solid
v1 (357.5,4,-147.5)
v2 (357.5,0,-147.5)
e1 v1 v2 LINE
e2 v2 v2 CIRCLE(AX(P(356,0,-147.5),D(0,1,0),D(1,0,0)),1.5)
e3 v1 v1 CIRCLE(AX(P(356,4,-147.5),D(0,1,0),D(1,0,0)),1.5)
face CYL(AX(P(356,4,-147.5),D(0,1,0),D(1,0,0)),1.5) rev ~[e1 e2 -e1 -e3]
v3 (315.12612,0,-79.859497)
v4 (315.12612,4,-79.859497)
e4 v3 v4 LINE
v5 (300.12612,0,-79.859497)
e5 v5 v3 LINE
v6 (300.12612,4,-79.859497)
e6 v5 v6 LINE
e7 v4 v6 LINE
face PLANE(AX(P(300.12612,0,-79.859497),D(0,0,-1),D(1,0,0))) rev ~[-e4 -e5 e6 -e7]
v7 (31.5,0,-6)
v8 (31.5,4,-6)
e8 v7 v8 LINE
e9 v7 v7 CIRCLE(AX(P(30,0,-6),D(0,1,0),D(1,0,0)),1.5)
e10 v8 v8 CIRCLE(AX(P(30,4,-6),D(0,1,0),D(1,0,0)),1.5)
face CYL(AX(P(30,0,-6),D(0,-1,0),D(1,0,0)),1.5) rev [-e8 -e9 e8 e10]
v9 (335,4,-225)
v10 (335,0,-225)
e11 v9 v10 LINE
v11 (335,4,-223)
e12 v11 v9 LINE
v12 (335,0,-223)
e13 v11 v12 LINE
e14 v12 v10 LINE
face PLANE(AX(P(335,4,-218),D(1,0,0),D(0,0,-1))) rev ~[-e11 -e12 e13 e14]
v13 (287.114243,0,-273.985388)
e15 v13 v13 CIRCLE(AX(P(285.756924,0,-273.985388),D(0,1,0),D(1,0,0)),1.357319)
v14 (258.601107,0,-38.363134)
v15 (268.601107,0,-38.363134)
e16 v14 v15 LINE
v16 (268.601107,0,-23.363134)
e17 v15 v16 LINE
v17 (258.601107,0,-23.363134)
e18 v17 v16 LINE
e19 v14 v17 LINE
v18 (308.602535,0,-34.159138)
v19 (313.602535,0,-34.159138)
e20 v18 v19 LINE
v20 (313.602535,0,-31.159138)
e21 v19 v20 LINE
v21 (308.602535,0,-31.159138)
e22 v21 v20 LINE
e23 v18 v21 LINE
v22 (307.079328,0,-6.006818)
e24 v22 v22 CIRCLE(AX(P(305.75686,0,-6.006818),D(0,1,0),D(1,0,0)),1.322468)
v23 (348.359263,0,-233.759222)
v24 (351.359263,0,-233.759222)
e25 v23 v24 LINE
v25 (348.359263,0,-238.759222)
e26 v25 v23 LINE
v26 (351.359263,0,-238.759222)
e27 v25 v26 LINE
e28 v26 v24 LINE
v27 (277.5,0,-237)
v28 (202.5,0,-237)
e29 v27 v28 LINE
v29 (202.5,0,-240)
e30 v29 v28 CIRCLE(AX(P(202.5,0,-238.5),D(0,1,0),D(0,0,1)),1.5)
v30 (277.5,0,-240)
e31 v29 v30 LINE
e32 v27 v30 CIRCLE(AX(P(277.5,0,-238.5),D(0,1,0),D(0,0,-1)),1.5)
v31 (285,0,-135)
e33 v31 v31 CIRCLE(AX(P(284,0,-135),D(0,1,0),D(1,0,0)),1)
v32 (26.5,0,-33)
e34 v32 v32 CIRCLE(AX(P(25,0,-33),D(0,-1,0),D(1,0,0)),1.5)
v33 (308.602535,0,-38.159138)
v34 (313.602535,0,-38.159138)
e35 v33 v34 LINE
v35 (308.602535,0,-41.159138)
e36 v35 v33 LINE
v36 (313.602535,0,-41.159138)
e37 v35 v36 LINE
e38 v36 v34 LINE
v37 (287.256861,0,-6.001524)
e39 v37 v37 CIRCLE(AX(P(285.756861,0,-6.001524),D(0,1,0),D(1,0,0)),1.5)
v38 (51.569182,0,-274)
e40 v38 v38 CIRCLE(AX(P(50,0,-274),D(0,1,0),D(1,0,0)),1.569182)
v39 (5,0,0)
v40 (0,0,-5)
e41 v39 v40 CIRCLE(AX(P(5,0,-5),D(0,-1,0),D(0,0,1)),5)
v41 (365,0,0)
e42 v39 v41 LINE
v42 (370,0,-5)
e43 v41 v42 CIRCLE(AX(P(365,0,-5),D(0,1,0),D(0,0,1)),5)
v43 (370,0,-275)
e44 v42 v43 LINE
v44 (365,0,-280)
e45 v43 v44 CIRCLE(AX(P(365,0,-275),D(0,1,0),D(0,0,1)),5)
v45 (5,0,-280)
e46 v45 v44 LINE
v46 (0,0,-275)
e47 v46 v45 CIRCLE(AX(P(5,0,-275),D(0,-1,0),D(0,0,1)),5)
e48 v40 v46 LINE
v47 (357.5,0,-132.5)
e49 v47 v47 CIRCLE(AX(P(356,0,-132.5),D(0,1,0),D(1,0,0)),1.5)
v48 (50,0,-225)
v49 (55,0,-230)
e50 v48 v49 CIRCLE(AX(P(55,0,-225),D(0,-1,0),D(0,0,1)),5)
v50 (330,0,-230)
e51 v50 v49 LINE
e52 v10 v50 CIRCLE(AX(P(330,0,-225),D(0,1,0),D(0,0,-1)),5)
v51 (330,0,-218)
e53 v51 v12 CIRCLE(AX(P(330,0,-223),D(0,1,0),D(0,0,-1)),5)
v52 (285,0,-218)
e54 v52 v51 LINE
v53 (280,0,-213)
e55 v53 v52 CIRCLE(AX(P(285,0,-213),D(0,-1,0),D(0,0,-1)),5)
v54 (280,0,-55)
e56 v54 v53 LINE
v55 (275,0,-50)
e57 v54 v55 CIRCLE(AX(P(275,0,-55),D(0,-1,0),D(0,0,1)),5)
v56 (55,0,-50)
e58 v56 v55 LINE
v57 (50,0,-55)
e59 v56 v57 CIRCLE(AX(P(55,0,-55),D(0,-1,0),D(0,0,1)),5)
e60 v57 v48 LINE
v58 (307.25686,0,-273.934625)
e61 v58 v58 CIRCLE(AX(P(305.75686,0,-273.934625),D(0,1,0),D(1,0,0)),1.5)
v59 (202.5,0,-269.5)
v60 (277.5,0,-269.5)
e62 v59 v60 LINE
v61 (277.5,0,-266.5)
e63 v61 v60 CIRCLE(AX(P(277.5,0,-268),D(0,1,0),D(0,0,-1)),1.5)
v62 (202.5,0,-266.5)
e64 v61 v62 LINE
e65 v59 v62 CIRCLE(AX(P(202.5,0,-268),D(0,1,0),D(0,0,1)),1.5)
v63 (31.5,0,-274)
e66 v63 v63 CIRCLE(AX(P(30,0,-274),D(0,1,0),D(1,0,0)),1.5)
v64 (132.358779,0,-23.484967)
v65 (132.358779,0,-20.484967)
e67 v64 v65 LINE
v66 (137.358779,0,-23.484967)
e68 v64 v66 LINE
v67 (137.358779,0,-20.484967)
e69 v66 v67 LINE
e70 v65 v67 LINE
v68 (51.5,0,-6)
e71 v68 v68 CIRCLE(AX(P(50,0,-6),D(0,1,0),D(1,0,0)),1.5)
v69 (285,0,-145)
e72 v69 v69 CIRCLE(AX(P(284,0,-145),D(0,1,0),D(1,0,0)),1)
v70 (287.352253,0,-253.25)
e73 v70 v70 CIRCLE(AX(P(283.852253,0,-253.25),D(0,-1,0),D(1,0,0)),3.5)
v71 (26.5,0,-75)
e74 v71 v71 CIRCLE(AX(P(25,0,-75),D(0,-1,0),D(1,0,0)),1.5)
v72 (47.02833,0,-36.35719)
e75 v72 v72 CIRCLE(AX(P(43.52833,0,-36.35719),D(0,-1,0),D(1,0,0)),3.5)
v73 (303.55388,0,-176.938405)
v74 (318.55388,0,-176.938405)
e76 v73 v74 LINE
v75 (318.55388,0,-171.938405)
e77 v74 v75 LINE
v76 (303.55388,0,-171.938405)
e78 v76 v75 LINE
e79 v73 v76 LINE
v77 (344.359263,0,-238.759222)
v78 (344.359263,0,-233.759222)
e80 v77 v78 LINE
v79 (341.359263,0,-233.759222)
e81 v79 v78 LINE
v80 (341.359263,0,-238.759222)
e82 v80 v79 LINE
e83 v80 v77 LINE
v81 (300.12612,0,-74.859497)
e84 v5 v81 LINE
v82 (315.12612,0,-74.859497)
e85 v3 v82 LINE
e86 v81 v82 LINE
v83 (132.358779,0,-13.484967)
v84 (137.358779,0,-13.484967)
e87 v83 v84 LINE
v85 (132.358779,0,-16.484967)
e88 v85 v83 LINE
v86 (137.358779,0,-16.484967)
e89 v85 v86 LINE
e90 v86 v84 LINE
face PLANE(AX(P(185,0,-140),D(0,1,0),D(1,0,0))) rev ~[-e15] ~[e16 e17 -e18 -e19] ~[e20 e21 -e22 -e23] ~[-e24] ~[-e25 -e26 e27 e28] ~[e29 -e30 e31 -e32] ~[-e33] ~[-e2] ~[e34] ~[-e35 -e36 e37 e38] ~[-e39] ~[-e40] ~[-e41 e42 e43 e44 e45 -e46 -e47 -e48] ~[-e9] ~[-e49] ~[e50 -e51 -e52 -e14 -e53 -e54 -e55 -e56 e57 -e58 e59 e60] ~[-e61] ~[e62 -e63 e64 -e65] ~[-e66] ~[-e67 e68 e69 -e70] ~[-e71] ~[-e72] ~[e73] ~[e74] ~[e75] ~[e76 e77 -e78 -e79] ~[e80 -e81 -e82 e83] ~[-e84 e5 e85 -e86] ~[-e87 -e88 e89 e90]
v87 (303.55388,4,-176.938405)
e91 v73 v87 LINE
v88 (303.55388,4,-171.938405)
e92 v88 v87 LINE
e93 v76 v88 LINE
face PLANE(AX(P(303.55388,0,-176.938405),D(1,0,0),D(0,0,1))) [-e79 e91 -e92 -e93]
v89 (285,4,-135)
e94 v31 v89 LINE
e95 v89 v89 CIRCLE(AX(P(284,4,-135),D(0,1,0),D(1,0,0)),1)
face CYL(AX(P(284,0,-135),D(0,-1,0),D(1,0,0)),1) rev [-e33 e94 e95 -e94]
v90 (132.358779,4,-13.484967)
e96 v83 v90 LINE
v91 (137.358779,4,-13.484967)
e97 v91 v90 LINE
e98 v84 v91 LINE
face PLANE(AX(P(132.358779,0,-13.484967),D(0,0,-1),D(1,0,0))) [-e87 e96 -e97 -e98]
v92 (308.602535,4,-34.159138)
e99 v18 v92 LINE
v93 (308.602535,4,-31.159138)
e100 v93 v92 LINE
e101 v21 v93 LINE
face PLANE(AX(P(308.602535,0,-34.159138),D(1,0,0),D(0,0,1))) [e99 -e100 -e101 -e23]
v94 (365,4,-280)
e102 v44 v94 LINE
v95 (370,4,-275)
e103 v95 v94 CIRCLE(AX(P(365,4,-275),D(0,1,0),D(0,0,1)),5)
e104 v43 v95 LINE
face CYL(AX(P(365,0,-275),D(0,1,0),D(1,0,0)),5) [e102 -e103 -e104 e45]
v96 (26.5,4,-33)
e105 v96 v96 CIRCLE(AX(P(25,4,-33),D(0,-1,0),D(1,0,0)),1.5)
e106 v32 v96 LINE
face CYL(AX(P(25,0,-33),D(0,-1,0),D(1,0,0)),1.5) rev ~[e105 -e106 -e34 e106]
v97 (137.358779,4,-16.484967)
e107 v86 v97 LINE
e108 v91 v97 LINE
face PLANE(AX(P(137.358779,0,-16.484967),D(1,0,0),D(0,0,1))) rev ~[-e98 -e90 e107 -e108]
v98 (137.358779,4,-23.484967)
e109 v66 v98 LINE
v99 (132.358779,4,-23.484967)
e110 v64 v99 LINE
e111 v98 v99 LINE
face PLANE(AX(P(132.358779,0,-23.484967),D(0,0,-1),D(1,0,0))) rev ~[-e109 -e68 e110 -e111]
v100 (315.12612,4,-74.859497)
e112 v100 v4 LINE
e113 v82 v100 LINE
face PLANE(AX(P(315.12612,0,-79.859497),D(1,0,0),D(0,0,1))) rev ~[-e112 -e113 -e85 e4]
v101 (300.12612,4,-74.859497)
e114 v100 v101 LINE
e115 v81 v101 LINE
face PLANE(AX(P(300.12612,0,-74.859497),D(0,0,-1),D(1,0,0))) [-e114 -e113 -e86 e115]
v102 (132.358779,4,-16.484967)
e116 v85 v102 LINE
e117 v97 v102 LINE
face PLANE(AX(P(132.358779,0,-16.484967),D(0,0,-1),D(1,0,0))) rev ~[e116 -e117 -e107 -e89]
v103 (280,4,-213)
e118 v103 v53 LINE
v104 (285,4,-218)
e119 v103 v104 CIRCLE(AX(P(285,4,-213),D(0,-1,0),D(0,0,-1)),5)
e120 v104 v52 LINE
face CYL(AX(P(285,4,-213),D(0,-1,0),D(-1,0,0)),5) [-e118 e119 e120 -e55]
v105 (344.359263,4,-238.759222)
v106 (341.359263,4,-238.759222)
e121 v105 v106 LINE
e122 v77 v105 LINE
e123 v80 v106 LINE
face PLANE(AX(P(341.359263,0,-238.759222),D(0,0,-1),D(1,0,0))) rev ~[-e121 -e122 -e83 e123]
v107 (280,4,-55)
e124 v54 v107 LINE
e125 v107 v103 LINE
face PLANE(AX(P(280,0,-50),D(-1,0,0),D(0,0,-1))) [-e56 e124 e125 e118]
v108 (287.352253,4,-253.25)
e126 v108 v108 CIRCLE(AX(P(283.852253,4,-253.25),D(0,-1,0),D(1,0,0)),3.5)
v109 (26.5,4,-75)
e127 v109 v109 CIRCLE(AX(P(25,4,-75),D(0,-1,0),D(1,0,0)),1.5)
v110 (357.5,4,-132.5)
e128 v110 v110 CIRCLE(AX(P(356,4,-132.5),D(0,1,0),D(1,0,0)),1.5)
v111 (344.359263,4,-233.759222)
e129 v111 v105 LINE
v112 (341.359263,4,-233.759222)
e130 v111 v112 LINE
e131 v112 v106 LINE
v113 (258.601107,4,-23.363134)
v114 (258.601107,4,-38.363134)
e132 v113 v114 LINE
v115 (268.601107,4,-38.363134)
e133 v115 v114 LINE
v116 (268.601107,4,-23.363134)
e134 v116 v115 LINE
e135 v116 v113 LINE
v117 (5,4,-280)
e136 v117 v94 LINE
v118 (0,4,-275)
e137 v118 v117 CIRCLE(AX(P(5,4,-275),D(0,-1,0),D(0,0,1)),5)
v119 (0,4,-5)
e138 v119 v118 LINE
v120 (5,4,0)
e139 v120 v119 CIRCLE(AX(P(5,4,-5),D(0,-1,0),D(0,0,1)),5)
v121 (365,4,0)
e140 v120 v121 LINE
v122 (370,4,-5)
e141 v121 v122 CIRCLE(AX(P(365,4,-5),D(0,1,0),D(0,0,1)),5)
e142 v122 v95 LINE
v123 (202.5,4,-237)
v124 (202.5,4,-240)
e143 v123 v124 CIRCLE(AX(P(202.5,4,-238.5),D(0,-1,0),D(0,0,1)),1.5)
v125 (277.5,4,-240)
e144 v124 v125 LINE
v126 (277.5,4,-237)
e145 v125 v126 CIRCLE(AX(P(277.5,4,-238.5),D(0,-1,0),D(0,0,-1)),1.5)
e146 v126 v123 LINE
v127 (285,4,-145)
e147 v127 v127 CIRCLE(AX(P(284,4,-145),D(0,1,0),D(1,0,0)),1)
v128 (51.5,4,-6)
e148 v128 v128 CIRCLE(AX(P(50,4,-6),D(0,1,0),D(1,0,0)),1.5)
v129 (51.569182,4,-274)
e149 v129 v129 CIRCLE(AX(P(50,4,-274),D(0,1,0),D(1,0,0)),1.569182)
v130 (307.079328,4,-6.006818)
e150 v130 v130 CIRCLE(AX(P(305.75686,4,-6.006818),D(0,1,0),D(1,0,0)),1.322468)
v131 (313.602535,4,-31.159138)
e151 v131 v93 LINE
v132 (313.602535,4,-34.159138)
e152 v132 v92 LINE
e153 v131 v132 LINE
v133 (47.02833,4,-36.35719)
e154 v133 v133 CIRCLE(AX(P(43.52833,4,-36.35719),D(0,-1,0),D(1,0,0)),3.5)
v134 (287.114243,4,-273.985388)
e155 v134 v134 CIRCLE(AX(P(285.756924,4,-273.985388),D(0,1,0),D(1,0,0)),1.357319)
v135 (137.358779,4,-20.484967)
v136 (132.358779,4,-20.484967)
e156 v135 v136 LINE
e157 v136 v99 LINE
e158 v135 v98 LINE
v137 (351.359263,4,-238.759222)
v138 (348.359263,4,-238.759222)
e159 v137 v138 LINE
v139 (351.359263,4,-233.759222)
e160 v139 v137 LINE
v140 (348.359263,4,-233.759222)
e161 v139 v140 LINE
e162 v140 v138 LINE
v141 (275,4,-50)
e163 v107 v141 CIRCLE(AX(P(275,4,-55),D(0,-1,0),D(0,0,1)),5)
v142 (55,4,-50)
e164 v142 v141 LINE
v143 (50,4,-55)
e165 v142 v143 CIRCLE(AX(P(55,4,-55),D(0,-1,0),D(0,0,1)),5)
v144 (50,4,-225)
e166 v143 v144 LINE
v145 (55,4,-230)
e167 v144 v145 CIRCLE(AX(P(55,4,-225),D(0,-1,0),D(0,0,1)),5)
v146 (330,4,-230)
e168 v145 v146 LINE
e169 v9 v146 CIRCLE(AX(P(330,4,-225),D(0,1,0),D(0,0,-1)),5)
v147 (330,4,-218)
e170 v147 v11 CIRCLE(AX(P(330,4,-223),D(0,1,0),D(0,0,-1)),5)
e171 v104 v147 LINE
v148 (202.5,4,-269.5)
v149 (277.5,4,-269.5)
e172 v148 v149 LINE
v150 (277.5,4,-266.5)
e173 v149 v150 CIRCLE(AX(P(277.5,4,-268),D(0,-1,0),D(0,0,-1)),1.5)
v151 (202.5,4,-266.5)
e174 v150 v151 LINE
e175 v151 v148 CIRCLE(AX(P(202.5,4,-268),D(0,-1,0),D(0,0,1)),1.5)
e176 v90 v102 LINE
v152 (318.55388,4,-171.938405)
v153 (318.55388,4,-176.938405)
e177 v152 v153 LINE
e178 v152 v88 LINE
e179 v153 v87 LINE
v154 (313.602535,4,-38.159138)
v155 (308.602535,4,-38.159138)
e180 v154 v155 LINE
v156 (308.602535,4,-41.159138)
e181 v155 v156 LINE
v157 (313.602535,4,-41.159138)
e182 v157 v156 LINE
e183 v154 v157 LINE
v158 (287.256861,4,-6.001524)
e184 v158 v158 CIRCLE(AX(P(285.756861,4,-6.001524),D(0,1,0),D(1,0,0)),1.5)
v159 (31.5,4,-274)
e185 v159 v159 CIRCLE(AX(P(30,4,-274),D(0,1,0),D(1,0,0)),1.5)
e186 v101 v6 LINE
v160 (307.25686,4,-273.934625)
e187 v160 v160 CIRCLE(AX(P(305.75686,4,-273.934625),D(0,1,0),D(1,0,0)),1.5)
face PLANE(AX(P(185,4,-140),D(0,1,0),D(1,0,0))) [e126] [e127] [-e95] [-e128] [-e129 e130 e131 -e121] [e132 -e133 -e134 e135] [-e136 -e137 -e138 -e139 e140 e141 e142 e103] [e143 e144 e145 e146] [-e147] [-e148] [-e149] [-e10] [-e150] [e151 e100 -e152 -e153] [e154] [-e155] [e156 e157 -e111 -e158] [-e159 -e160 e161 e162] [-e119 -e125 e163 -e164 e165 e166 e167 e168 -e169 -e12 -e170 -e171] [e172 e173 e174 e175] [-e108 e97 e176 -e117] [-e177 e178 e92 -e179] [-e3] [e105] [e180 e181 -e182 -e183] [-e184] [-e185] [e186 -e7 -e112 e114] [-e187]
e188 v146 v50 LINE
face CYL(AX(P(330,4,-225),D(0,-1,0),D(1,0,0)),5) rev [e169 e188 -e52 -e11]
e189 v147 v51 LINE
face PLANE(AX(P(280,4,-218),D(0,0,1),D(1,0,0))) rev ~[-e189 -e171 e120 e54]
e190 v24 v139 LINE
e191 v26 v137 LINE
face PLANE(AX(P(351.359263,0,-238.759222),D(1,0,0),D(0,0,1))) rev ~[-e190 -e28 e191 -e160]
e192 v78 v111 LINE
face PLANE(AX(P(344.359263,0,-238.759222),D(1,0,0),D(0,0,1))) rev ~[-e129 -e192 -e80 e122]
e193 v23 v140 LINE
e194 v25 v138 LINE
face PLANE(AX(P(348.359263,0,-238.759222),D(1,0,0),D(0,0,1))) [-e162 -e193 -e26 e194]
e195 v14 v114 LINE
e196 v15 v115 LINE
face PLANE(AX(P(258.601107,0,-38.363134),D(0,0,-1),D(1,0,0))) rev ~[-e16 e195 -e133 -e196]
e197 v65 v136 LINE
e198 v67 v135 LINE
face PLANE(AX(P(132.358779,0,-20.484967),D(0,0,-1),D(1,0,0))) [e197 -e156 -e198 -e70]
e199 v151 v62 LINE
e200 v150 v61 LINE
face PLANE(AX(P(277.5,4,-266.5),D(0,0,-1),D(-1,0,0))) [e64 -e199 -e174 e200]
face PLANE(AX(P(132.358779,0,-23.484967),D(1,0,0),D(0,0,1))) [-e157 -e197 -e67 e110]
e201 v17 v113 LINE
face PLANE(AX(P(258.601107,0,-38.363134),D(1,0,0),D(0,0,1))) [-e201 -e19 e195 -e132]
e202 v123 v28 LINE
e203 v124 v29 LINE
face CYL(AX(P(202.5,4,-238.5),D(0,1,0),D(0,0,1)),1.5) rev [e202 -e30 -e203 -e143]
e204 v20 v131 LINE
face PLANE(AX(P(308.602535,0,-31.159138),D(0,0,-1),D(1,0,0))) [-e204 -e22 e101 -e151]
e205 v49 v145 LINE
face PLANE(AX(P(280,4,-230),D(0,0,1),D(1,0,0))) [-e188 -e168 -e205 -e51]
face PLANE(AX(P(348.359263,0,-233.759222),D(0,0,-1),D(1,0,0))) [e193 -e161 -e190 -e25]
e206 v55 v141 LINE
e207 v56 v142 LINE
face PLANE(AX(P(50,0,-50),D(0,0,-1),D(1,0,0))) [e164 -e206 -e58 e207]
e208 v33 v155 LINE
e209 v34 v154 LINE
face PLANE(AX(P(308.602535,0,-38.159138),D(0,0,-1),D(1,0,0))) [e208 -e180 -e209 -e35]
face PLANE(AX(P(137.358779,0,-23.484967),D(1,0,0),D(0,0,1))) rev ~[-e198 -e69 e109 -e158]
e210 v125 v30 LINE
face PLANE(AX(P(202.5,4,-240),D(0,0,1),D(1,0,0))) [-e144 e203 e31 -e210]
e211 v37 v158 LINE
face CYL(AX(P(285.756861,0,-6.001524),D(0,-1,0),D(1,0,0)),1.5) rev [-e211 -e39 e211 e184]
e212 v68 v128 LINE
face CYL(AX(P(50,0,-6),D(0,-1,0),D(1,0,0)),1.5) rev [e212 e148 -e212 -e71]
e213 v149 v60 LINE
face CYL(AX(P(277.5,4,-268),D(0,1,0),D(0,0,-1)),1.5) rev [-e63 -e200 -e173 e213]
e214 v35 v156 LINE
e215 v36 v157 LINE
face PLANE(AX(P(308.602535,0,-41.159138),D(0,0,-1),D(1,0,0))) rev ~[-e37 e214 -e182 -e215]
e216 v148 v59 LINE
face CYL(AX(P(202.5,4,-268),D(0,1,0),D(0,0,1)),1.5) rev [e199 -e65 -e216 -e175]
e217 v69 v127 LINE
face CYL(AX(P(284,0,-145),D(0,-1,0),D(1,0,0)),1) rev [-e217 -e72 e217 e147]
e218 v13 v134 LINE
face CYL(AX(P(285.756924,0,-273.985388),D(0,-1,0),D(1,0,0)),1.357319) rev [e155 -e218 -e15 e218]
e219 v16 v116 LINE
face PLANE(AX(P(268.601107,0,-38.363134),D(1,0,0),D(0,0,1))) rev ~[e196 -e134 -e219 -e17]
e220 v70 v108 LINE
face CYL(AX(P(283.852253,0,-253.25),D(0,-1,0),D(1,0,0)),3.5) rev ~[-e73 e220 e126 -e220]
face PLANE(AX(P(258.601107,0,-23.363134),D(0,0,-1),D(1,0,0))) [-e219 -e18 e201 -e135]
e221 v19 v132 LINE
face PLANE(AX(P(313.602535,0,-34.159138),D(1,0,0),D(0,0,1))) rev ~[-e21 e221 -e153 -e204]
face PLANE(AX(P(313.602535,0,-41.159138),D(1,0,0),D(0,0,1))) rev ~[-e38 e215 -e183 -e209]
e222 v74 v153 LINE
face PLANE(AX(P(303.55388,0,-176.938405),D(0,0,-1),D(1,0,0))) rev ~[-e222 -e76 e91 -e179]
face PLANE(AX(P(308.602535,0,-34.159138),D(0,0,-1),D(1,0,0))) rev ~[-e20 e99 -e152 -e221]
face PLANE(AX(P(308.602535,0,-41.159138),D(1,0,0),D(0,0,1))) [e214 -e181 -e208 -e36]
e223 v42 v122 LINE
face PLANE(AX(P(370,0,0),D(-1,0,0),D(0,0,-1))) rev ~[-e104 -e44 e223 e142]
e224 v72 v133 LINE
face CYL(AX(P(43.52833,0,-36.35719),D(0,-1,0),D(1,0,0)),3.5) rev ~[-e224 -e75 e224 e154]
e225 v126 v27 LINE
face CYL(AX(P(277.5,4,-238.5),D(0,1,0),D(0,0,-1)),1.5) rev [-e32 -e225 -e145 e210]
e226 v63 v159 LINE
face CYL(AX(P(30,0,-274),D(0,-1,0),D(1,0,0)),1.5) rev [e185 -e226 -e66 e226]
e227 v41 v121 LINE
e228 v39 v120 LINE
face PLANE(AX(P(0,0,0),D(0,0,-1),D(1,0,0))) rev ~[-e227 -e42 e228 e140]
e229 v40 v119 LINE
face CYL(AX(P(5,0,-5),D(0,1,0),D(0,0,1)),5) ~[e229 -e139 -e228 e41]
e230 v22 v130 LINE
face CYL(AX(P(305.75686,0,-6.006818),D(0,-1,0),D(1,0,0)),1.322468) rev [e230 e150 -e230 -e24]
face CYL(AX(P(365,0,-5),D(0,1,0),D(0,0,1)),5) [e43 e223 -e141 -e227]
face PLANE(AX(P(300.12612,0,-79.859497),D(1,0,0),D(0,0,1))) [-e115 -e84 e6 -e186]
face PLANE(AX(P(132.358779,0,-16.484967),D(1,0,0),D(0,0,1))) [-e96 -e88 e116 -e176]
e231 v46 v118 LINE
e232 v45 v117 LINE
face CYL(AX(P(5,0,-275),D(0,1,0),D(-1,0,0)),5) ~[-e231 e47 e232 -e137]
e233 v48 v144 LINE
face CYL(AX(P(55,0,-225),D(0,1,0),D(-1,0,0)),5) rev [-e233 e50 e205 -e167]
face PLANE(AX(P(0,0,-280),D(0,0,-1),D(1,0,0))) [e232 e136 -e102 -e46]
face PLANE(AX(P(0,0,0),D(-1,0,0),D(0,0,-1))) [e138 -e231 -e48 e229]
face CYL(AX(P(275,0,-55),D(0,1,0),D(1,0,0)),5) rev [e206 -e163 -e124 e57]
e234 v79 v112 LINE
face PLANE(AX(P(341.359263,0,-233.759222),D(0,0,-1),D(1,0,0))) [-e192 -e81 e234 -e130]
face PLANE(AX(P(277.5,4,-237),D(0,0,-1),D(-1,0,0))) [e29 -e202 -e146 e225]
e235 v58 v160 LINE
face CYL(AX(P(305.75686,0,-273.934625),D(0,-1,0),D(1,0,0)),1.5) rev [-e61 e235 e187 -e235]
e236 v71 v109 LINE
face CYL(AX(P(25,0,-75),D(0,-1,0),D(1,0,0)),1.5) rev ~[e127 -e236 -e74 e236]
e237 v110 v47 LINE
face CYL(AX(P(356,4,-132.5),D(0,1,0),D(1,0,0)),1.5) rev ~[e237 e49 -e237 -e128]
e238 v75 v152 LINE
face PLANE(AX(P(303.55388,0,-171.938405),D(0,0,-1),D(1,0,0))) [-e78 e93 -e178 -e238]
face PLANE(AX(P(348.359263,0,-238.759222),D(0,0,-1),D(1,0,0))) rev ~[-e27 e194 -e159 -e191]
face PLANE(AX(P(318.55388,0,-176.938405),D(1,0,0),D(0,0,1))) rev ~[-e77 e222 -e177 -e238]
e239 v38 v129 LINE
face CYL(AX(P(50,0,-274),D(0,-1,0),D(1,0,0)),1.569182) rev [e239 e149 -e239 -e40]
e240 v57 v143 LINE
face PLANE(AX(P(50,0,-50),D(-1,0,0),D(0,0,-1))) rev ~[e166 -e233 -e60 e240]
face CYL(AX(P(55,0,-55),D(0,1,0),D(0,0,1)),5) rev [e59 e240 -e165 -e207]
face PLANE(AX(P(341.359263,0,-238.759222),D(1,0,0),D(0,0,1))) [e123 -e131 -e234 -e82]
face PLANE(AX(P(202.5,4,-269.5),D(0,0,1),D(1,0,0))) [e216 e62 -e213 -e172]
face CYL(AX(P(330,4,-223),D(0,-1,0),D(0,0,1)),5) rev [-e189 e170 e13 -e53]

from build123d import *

# Parameters (mm, degrees)
SKETCH1_W           = 370
SKETCH1_H           = 280
SKETCH1_R           = 1.5
SKETCH1_R_2         = 1.569181713
SKETCH1_R_3         = 1.357318829
SKETCH1_R_4         = 1.322467774
SKETCH1_R_5         = 1
SKETCH1_W_2         = 230
SKETCH1_H_2         = 180
BOSS_EXTRUDE1_DEPTH = 4
SKETCH2_W           = 55
SKETCH2_H           = 12
CUT_EXTRUDE1_DEPTH  = 10
SKETCH3_R           = 1.5
CUT_EXTRUDE2_DEPTH  = 10
CUT_EXTRUDE3_DEPTH  = 10
FILLET3_R           = 5
FILLET4_R           = 5
FILLET5_R           = 5
FILLET6_R           = 5
FILLET7_R           = 5
FILLET8_R           = 5
FILLET9_R           = 5
SKETCH6_R           = 3.5
CUT_EXTRUDE4_DEPTH  = 10
SKETCH7_R           = 3.5
CUT_EXTRUDE5_DEPTH  = 10
SKETCH8_W           = 5
SKETCH8_H           = 3
SKETCH8_W_2         = 10
SKETCH8_H_2         = 15
SKETCH8_W_3         = 15
SKETCH8_H_3         = 5
SKETCH8_W_4         = 3
CUT_EXTRUDE6_DEPTH  = 10
SKETCH9_R           = 1.5
CUT_EXTRUDE7_DEPTH  = 10


with BuildPart() as part:
    # Sketch1 → Boss-Extrude1 (new body)
    with BuildSketch(Plane(origin=(0, 0, 0), x_dir=(1, 0, 0), z_dir=(0, 1, 0))):
        with Locations((185, 140)):
            Rectangle(SKETCH1_W, SKETCH1_H)
        with Locations((30, 274)):
            Circle(SKETCH1_R, mode=Mode.SUBTRACT)
        with Locations((50, 274)):
            Circle(SKETCH1_R_2, mode=Mode.SUBTRACT)
        with Locations((30, 6)):
            Circle(SKETCH1_R, mode=Mode.SUBTRACT)
        with Locations((50, 6)):
            Circle(SKETCH1_R, mode=Mode.SUBTRACT)
        with Locations((285.756924446, 273.985388104)):
            Circle(SKETCH1_R_3, mode=Mode.SUBTRACT)
        with Locations((305.756860025, 273.934625414)):
            Circle(SKETCH1_R, mode=Mode.SUBTRACT)
        with Locations((285.756860726, 6.001523901)):
            Circle(SKETCH1_R, mode=Mode.SUBTRACT)
        with Locations((305.756860025, 6.006818111)):
            Circle(SKETCH1_R_4, mode=Mode.SUBTRACT)
        with Locations((284, 145)):
            Circle(SKETCH1_R_5, mode=Mode.SUBTRACT)
        with Locations((284, 135)):
            Circle(SKETCH1_R_5, mode=Mode.SUBTRACT)
        with Locations((165, 140)):
            Rectangle(SKETCH1_W_2, SKETCH1_H_2, mode=Mode.SUBTRACT)
    extrude(amount=BOSS_EXTRUDE1_DEPTH)

    # Sketch2 → Cut-Extrude1 (cut)
    with BuildSketch(Plane(origin=(0, 4, 0), x_dir=(1, 0, 0), z_dir=(0, 1, 0))):
        with Locations((307.5, 224)):
            Rectangle(SKETCH2_W, SKETCH2_H)
    extrude(amount=-CUT_EXTRUDE1_DEPTH, mode=Mode.SUBTRACT)

    # Sketch3 → Cut-Extrude2 (cut)
    with BuildSketch(Plane(origin=(0, 4, 0), x_dir=(1, 0, 0), z_dir=(0, 1, 0))):
        with Locations((356, 147.5)):
            Circle(SKETCH3_R)
        with Locations((356, 132.5)):
            Circle(SKETCH3_R)
    extrude(amount=-CUT_EXTRUDE2_DEPTH, mode=Mode.SUBTRACT)

    # Sketch4 → Cut-Extrude3 (cut)
    with BuildSketch(Plane(origin=(0, 4, 0), x_dir=(1, 0, 0), z_dir=(0, 1, 0))):
        with BuildLine():
            Line((277.5, 266.5), (202.5, 266.5))
            ThreePointArc((202.5, 266.5), (201, 268), (202.5, 269.5))
            Line((202.5, 269.5), (277.5, 269.5))
            ThreePointArc((277.5, 269.5), (279, 268), (277.5, 266.5))
        make_face()
        with BuildLine():
            Line((277.5, 237), (202.5, 237))
            ThreePointArc((202.5, 237), (201, 238.5), (202.5, 240))
            Line((202.5, 240), (277.5, 240))
            ThreePointArc((277.5, 240), (279, 238.5), (277.5, 237))
        make_face()
    extrude(amount=-CUT_EXTRUDE3_DEPTH, mode=Mode.SUBTRACT)

    # Fillet3
    fillet3_edges = [part.edges().sort_by_distance(p)[0] for p in [
        (370, 2, 0),
    ]]
    fillet(fillet3_edges, radius=FILLET3_R)

    # Fillet4
    fillet4_edges = [part.edges().sort_by_distance(p)[0] for p in [
        (370, 2, -280),
    ]]
    fillet(fillet4_edges, radius=FILLET4_R)

    # Fillet5
    fillet5_edges = [part.edges().sort_by_distance(p)[0] for p in [
        (0, 2, 0),
    ]]
    fillet(fillet5_edges, radius=FILLET5_R)

    # Fillet6
    fillet6_edges = [part.edges().sort_by_distance(p)[0] for p in [
        (0, 2, -280),
    ]]
    fillet(fillet6_edges, radius=FILLET6_R)

    # Fillet7
    fillet7_edges = [part.edges().sort_by_distance(p)[0] for p in [
        (280, 2, -218),
    ]]
    fillet(fillet7_edges, radius=FILLET7_R)

    # Fillet8
    fillet8_edges = [part.edges().sort_by_distance(p)[0] for p in [
        (280, 2, -50),
    ]]
    fillet(fillet8_edges, radius=FILLET8_R)

    # Fillet9
    fillet9_edges = [part.edges().sort_by_distance(p)[0] for p in [
        (50, 2, -230),
        (50, 2, -50),
        (335, 2, -230),
        (335, 2, -218),
    ]]
    fillet(fillet9_edges, radius=FILLET9_R)

    # Sketch6 → Cut-Extrude4 (cut)
    with BuildSketch(Plane.XZ):
        with Locations((283.852252581, -253.25)):
            Circle(SKETCH6_R)
    extrude(amount=-CUT_EXTRUDE4_DEPTH, mode=Mode.SUBTRACT)

    # Sketch7 → Cut-Extrude5 (cut)
    with BuildSketch(Plane.XZ):
        with Locations((43.528330195, -36.357190156)):
            Circle(SKETCH7_R)
    extrude(amount=-CUT_EXTRUDE5_DEPTH, mode=Mode.SUBTRACT)

    # Sketch8 → Cut-Extrude6 (cut)
    with BuildSketch(Plane.XZ):
        with Locations((134.85877855, -14.984967273)):
            Rectangle(SKETCH8_W, SKETCH8_H)
        with Locations((134.85877855, -21.984967273)):
            Rectangle(SKETCH8_W, SKETCH8_H)
        with Locations((263.601107072, -30.863134191)):
            Rectangle(SKETCH8_W_2, SKETCH8_H_2)
        with Locations((311.102535039, -32.659137944)):
            Rectangle(SKETCH8_W, SKETCH8_H)
        with Locations((311.102535039, -39.659137944)):
            Rectangle(SKETCH8_W, SKETCH8_H)
        with Locations((307.626119627, -77.359497152)):
            Rectangle(SKETCH8_W_3, SKETCH8_H_3)
        with Locations((342.859262651, -236.259221691)):
            Rectangle(SKETCH8_W_4, SKETCH8_H_3)
        with Locations((349.859262651, -236.259221691)):
            Rectangle(SKETCH8_W_4, SKETCH8_H_3)
        with Locations((311.053880499, -174.438404524)):
            Rectangle(SKETCH8_W_3, SKETCH8_H_3)
    extrude(amount=-CUT_EXTRUDE6_DEPTH, mode=Mode.SUBTRACT)

    # Sketch9 → Cut-Extrude7 (cut)
    with BuildSketch(Plane.XZ):
        with Locations((25, -33)):
            Circle(SKETCH9_R)
        with Locations((25, -75)):
            Circle(SKETCH9_R)
    extrude(amount=-CUT_EXTRUDE7_DEPTH, mode=Mode.SUBTRACT)


solid = part.part
